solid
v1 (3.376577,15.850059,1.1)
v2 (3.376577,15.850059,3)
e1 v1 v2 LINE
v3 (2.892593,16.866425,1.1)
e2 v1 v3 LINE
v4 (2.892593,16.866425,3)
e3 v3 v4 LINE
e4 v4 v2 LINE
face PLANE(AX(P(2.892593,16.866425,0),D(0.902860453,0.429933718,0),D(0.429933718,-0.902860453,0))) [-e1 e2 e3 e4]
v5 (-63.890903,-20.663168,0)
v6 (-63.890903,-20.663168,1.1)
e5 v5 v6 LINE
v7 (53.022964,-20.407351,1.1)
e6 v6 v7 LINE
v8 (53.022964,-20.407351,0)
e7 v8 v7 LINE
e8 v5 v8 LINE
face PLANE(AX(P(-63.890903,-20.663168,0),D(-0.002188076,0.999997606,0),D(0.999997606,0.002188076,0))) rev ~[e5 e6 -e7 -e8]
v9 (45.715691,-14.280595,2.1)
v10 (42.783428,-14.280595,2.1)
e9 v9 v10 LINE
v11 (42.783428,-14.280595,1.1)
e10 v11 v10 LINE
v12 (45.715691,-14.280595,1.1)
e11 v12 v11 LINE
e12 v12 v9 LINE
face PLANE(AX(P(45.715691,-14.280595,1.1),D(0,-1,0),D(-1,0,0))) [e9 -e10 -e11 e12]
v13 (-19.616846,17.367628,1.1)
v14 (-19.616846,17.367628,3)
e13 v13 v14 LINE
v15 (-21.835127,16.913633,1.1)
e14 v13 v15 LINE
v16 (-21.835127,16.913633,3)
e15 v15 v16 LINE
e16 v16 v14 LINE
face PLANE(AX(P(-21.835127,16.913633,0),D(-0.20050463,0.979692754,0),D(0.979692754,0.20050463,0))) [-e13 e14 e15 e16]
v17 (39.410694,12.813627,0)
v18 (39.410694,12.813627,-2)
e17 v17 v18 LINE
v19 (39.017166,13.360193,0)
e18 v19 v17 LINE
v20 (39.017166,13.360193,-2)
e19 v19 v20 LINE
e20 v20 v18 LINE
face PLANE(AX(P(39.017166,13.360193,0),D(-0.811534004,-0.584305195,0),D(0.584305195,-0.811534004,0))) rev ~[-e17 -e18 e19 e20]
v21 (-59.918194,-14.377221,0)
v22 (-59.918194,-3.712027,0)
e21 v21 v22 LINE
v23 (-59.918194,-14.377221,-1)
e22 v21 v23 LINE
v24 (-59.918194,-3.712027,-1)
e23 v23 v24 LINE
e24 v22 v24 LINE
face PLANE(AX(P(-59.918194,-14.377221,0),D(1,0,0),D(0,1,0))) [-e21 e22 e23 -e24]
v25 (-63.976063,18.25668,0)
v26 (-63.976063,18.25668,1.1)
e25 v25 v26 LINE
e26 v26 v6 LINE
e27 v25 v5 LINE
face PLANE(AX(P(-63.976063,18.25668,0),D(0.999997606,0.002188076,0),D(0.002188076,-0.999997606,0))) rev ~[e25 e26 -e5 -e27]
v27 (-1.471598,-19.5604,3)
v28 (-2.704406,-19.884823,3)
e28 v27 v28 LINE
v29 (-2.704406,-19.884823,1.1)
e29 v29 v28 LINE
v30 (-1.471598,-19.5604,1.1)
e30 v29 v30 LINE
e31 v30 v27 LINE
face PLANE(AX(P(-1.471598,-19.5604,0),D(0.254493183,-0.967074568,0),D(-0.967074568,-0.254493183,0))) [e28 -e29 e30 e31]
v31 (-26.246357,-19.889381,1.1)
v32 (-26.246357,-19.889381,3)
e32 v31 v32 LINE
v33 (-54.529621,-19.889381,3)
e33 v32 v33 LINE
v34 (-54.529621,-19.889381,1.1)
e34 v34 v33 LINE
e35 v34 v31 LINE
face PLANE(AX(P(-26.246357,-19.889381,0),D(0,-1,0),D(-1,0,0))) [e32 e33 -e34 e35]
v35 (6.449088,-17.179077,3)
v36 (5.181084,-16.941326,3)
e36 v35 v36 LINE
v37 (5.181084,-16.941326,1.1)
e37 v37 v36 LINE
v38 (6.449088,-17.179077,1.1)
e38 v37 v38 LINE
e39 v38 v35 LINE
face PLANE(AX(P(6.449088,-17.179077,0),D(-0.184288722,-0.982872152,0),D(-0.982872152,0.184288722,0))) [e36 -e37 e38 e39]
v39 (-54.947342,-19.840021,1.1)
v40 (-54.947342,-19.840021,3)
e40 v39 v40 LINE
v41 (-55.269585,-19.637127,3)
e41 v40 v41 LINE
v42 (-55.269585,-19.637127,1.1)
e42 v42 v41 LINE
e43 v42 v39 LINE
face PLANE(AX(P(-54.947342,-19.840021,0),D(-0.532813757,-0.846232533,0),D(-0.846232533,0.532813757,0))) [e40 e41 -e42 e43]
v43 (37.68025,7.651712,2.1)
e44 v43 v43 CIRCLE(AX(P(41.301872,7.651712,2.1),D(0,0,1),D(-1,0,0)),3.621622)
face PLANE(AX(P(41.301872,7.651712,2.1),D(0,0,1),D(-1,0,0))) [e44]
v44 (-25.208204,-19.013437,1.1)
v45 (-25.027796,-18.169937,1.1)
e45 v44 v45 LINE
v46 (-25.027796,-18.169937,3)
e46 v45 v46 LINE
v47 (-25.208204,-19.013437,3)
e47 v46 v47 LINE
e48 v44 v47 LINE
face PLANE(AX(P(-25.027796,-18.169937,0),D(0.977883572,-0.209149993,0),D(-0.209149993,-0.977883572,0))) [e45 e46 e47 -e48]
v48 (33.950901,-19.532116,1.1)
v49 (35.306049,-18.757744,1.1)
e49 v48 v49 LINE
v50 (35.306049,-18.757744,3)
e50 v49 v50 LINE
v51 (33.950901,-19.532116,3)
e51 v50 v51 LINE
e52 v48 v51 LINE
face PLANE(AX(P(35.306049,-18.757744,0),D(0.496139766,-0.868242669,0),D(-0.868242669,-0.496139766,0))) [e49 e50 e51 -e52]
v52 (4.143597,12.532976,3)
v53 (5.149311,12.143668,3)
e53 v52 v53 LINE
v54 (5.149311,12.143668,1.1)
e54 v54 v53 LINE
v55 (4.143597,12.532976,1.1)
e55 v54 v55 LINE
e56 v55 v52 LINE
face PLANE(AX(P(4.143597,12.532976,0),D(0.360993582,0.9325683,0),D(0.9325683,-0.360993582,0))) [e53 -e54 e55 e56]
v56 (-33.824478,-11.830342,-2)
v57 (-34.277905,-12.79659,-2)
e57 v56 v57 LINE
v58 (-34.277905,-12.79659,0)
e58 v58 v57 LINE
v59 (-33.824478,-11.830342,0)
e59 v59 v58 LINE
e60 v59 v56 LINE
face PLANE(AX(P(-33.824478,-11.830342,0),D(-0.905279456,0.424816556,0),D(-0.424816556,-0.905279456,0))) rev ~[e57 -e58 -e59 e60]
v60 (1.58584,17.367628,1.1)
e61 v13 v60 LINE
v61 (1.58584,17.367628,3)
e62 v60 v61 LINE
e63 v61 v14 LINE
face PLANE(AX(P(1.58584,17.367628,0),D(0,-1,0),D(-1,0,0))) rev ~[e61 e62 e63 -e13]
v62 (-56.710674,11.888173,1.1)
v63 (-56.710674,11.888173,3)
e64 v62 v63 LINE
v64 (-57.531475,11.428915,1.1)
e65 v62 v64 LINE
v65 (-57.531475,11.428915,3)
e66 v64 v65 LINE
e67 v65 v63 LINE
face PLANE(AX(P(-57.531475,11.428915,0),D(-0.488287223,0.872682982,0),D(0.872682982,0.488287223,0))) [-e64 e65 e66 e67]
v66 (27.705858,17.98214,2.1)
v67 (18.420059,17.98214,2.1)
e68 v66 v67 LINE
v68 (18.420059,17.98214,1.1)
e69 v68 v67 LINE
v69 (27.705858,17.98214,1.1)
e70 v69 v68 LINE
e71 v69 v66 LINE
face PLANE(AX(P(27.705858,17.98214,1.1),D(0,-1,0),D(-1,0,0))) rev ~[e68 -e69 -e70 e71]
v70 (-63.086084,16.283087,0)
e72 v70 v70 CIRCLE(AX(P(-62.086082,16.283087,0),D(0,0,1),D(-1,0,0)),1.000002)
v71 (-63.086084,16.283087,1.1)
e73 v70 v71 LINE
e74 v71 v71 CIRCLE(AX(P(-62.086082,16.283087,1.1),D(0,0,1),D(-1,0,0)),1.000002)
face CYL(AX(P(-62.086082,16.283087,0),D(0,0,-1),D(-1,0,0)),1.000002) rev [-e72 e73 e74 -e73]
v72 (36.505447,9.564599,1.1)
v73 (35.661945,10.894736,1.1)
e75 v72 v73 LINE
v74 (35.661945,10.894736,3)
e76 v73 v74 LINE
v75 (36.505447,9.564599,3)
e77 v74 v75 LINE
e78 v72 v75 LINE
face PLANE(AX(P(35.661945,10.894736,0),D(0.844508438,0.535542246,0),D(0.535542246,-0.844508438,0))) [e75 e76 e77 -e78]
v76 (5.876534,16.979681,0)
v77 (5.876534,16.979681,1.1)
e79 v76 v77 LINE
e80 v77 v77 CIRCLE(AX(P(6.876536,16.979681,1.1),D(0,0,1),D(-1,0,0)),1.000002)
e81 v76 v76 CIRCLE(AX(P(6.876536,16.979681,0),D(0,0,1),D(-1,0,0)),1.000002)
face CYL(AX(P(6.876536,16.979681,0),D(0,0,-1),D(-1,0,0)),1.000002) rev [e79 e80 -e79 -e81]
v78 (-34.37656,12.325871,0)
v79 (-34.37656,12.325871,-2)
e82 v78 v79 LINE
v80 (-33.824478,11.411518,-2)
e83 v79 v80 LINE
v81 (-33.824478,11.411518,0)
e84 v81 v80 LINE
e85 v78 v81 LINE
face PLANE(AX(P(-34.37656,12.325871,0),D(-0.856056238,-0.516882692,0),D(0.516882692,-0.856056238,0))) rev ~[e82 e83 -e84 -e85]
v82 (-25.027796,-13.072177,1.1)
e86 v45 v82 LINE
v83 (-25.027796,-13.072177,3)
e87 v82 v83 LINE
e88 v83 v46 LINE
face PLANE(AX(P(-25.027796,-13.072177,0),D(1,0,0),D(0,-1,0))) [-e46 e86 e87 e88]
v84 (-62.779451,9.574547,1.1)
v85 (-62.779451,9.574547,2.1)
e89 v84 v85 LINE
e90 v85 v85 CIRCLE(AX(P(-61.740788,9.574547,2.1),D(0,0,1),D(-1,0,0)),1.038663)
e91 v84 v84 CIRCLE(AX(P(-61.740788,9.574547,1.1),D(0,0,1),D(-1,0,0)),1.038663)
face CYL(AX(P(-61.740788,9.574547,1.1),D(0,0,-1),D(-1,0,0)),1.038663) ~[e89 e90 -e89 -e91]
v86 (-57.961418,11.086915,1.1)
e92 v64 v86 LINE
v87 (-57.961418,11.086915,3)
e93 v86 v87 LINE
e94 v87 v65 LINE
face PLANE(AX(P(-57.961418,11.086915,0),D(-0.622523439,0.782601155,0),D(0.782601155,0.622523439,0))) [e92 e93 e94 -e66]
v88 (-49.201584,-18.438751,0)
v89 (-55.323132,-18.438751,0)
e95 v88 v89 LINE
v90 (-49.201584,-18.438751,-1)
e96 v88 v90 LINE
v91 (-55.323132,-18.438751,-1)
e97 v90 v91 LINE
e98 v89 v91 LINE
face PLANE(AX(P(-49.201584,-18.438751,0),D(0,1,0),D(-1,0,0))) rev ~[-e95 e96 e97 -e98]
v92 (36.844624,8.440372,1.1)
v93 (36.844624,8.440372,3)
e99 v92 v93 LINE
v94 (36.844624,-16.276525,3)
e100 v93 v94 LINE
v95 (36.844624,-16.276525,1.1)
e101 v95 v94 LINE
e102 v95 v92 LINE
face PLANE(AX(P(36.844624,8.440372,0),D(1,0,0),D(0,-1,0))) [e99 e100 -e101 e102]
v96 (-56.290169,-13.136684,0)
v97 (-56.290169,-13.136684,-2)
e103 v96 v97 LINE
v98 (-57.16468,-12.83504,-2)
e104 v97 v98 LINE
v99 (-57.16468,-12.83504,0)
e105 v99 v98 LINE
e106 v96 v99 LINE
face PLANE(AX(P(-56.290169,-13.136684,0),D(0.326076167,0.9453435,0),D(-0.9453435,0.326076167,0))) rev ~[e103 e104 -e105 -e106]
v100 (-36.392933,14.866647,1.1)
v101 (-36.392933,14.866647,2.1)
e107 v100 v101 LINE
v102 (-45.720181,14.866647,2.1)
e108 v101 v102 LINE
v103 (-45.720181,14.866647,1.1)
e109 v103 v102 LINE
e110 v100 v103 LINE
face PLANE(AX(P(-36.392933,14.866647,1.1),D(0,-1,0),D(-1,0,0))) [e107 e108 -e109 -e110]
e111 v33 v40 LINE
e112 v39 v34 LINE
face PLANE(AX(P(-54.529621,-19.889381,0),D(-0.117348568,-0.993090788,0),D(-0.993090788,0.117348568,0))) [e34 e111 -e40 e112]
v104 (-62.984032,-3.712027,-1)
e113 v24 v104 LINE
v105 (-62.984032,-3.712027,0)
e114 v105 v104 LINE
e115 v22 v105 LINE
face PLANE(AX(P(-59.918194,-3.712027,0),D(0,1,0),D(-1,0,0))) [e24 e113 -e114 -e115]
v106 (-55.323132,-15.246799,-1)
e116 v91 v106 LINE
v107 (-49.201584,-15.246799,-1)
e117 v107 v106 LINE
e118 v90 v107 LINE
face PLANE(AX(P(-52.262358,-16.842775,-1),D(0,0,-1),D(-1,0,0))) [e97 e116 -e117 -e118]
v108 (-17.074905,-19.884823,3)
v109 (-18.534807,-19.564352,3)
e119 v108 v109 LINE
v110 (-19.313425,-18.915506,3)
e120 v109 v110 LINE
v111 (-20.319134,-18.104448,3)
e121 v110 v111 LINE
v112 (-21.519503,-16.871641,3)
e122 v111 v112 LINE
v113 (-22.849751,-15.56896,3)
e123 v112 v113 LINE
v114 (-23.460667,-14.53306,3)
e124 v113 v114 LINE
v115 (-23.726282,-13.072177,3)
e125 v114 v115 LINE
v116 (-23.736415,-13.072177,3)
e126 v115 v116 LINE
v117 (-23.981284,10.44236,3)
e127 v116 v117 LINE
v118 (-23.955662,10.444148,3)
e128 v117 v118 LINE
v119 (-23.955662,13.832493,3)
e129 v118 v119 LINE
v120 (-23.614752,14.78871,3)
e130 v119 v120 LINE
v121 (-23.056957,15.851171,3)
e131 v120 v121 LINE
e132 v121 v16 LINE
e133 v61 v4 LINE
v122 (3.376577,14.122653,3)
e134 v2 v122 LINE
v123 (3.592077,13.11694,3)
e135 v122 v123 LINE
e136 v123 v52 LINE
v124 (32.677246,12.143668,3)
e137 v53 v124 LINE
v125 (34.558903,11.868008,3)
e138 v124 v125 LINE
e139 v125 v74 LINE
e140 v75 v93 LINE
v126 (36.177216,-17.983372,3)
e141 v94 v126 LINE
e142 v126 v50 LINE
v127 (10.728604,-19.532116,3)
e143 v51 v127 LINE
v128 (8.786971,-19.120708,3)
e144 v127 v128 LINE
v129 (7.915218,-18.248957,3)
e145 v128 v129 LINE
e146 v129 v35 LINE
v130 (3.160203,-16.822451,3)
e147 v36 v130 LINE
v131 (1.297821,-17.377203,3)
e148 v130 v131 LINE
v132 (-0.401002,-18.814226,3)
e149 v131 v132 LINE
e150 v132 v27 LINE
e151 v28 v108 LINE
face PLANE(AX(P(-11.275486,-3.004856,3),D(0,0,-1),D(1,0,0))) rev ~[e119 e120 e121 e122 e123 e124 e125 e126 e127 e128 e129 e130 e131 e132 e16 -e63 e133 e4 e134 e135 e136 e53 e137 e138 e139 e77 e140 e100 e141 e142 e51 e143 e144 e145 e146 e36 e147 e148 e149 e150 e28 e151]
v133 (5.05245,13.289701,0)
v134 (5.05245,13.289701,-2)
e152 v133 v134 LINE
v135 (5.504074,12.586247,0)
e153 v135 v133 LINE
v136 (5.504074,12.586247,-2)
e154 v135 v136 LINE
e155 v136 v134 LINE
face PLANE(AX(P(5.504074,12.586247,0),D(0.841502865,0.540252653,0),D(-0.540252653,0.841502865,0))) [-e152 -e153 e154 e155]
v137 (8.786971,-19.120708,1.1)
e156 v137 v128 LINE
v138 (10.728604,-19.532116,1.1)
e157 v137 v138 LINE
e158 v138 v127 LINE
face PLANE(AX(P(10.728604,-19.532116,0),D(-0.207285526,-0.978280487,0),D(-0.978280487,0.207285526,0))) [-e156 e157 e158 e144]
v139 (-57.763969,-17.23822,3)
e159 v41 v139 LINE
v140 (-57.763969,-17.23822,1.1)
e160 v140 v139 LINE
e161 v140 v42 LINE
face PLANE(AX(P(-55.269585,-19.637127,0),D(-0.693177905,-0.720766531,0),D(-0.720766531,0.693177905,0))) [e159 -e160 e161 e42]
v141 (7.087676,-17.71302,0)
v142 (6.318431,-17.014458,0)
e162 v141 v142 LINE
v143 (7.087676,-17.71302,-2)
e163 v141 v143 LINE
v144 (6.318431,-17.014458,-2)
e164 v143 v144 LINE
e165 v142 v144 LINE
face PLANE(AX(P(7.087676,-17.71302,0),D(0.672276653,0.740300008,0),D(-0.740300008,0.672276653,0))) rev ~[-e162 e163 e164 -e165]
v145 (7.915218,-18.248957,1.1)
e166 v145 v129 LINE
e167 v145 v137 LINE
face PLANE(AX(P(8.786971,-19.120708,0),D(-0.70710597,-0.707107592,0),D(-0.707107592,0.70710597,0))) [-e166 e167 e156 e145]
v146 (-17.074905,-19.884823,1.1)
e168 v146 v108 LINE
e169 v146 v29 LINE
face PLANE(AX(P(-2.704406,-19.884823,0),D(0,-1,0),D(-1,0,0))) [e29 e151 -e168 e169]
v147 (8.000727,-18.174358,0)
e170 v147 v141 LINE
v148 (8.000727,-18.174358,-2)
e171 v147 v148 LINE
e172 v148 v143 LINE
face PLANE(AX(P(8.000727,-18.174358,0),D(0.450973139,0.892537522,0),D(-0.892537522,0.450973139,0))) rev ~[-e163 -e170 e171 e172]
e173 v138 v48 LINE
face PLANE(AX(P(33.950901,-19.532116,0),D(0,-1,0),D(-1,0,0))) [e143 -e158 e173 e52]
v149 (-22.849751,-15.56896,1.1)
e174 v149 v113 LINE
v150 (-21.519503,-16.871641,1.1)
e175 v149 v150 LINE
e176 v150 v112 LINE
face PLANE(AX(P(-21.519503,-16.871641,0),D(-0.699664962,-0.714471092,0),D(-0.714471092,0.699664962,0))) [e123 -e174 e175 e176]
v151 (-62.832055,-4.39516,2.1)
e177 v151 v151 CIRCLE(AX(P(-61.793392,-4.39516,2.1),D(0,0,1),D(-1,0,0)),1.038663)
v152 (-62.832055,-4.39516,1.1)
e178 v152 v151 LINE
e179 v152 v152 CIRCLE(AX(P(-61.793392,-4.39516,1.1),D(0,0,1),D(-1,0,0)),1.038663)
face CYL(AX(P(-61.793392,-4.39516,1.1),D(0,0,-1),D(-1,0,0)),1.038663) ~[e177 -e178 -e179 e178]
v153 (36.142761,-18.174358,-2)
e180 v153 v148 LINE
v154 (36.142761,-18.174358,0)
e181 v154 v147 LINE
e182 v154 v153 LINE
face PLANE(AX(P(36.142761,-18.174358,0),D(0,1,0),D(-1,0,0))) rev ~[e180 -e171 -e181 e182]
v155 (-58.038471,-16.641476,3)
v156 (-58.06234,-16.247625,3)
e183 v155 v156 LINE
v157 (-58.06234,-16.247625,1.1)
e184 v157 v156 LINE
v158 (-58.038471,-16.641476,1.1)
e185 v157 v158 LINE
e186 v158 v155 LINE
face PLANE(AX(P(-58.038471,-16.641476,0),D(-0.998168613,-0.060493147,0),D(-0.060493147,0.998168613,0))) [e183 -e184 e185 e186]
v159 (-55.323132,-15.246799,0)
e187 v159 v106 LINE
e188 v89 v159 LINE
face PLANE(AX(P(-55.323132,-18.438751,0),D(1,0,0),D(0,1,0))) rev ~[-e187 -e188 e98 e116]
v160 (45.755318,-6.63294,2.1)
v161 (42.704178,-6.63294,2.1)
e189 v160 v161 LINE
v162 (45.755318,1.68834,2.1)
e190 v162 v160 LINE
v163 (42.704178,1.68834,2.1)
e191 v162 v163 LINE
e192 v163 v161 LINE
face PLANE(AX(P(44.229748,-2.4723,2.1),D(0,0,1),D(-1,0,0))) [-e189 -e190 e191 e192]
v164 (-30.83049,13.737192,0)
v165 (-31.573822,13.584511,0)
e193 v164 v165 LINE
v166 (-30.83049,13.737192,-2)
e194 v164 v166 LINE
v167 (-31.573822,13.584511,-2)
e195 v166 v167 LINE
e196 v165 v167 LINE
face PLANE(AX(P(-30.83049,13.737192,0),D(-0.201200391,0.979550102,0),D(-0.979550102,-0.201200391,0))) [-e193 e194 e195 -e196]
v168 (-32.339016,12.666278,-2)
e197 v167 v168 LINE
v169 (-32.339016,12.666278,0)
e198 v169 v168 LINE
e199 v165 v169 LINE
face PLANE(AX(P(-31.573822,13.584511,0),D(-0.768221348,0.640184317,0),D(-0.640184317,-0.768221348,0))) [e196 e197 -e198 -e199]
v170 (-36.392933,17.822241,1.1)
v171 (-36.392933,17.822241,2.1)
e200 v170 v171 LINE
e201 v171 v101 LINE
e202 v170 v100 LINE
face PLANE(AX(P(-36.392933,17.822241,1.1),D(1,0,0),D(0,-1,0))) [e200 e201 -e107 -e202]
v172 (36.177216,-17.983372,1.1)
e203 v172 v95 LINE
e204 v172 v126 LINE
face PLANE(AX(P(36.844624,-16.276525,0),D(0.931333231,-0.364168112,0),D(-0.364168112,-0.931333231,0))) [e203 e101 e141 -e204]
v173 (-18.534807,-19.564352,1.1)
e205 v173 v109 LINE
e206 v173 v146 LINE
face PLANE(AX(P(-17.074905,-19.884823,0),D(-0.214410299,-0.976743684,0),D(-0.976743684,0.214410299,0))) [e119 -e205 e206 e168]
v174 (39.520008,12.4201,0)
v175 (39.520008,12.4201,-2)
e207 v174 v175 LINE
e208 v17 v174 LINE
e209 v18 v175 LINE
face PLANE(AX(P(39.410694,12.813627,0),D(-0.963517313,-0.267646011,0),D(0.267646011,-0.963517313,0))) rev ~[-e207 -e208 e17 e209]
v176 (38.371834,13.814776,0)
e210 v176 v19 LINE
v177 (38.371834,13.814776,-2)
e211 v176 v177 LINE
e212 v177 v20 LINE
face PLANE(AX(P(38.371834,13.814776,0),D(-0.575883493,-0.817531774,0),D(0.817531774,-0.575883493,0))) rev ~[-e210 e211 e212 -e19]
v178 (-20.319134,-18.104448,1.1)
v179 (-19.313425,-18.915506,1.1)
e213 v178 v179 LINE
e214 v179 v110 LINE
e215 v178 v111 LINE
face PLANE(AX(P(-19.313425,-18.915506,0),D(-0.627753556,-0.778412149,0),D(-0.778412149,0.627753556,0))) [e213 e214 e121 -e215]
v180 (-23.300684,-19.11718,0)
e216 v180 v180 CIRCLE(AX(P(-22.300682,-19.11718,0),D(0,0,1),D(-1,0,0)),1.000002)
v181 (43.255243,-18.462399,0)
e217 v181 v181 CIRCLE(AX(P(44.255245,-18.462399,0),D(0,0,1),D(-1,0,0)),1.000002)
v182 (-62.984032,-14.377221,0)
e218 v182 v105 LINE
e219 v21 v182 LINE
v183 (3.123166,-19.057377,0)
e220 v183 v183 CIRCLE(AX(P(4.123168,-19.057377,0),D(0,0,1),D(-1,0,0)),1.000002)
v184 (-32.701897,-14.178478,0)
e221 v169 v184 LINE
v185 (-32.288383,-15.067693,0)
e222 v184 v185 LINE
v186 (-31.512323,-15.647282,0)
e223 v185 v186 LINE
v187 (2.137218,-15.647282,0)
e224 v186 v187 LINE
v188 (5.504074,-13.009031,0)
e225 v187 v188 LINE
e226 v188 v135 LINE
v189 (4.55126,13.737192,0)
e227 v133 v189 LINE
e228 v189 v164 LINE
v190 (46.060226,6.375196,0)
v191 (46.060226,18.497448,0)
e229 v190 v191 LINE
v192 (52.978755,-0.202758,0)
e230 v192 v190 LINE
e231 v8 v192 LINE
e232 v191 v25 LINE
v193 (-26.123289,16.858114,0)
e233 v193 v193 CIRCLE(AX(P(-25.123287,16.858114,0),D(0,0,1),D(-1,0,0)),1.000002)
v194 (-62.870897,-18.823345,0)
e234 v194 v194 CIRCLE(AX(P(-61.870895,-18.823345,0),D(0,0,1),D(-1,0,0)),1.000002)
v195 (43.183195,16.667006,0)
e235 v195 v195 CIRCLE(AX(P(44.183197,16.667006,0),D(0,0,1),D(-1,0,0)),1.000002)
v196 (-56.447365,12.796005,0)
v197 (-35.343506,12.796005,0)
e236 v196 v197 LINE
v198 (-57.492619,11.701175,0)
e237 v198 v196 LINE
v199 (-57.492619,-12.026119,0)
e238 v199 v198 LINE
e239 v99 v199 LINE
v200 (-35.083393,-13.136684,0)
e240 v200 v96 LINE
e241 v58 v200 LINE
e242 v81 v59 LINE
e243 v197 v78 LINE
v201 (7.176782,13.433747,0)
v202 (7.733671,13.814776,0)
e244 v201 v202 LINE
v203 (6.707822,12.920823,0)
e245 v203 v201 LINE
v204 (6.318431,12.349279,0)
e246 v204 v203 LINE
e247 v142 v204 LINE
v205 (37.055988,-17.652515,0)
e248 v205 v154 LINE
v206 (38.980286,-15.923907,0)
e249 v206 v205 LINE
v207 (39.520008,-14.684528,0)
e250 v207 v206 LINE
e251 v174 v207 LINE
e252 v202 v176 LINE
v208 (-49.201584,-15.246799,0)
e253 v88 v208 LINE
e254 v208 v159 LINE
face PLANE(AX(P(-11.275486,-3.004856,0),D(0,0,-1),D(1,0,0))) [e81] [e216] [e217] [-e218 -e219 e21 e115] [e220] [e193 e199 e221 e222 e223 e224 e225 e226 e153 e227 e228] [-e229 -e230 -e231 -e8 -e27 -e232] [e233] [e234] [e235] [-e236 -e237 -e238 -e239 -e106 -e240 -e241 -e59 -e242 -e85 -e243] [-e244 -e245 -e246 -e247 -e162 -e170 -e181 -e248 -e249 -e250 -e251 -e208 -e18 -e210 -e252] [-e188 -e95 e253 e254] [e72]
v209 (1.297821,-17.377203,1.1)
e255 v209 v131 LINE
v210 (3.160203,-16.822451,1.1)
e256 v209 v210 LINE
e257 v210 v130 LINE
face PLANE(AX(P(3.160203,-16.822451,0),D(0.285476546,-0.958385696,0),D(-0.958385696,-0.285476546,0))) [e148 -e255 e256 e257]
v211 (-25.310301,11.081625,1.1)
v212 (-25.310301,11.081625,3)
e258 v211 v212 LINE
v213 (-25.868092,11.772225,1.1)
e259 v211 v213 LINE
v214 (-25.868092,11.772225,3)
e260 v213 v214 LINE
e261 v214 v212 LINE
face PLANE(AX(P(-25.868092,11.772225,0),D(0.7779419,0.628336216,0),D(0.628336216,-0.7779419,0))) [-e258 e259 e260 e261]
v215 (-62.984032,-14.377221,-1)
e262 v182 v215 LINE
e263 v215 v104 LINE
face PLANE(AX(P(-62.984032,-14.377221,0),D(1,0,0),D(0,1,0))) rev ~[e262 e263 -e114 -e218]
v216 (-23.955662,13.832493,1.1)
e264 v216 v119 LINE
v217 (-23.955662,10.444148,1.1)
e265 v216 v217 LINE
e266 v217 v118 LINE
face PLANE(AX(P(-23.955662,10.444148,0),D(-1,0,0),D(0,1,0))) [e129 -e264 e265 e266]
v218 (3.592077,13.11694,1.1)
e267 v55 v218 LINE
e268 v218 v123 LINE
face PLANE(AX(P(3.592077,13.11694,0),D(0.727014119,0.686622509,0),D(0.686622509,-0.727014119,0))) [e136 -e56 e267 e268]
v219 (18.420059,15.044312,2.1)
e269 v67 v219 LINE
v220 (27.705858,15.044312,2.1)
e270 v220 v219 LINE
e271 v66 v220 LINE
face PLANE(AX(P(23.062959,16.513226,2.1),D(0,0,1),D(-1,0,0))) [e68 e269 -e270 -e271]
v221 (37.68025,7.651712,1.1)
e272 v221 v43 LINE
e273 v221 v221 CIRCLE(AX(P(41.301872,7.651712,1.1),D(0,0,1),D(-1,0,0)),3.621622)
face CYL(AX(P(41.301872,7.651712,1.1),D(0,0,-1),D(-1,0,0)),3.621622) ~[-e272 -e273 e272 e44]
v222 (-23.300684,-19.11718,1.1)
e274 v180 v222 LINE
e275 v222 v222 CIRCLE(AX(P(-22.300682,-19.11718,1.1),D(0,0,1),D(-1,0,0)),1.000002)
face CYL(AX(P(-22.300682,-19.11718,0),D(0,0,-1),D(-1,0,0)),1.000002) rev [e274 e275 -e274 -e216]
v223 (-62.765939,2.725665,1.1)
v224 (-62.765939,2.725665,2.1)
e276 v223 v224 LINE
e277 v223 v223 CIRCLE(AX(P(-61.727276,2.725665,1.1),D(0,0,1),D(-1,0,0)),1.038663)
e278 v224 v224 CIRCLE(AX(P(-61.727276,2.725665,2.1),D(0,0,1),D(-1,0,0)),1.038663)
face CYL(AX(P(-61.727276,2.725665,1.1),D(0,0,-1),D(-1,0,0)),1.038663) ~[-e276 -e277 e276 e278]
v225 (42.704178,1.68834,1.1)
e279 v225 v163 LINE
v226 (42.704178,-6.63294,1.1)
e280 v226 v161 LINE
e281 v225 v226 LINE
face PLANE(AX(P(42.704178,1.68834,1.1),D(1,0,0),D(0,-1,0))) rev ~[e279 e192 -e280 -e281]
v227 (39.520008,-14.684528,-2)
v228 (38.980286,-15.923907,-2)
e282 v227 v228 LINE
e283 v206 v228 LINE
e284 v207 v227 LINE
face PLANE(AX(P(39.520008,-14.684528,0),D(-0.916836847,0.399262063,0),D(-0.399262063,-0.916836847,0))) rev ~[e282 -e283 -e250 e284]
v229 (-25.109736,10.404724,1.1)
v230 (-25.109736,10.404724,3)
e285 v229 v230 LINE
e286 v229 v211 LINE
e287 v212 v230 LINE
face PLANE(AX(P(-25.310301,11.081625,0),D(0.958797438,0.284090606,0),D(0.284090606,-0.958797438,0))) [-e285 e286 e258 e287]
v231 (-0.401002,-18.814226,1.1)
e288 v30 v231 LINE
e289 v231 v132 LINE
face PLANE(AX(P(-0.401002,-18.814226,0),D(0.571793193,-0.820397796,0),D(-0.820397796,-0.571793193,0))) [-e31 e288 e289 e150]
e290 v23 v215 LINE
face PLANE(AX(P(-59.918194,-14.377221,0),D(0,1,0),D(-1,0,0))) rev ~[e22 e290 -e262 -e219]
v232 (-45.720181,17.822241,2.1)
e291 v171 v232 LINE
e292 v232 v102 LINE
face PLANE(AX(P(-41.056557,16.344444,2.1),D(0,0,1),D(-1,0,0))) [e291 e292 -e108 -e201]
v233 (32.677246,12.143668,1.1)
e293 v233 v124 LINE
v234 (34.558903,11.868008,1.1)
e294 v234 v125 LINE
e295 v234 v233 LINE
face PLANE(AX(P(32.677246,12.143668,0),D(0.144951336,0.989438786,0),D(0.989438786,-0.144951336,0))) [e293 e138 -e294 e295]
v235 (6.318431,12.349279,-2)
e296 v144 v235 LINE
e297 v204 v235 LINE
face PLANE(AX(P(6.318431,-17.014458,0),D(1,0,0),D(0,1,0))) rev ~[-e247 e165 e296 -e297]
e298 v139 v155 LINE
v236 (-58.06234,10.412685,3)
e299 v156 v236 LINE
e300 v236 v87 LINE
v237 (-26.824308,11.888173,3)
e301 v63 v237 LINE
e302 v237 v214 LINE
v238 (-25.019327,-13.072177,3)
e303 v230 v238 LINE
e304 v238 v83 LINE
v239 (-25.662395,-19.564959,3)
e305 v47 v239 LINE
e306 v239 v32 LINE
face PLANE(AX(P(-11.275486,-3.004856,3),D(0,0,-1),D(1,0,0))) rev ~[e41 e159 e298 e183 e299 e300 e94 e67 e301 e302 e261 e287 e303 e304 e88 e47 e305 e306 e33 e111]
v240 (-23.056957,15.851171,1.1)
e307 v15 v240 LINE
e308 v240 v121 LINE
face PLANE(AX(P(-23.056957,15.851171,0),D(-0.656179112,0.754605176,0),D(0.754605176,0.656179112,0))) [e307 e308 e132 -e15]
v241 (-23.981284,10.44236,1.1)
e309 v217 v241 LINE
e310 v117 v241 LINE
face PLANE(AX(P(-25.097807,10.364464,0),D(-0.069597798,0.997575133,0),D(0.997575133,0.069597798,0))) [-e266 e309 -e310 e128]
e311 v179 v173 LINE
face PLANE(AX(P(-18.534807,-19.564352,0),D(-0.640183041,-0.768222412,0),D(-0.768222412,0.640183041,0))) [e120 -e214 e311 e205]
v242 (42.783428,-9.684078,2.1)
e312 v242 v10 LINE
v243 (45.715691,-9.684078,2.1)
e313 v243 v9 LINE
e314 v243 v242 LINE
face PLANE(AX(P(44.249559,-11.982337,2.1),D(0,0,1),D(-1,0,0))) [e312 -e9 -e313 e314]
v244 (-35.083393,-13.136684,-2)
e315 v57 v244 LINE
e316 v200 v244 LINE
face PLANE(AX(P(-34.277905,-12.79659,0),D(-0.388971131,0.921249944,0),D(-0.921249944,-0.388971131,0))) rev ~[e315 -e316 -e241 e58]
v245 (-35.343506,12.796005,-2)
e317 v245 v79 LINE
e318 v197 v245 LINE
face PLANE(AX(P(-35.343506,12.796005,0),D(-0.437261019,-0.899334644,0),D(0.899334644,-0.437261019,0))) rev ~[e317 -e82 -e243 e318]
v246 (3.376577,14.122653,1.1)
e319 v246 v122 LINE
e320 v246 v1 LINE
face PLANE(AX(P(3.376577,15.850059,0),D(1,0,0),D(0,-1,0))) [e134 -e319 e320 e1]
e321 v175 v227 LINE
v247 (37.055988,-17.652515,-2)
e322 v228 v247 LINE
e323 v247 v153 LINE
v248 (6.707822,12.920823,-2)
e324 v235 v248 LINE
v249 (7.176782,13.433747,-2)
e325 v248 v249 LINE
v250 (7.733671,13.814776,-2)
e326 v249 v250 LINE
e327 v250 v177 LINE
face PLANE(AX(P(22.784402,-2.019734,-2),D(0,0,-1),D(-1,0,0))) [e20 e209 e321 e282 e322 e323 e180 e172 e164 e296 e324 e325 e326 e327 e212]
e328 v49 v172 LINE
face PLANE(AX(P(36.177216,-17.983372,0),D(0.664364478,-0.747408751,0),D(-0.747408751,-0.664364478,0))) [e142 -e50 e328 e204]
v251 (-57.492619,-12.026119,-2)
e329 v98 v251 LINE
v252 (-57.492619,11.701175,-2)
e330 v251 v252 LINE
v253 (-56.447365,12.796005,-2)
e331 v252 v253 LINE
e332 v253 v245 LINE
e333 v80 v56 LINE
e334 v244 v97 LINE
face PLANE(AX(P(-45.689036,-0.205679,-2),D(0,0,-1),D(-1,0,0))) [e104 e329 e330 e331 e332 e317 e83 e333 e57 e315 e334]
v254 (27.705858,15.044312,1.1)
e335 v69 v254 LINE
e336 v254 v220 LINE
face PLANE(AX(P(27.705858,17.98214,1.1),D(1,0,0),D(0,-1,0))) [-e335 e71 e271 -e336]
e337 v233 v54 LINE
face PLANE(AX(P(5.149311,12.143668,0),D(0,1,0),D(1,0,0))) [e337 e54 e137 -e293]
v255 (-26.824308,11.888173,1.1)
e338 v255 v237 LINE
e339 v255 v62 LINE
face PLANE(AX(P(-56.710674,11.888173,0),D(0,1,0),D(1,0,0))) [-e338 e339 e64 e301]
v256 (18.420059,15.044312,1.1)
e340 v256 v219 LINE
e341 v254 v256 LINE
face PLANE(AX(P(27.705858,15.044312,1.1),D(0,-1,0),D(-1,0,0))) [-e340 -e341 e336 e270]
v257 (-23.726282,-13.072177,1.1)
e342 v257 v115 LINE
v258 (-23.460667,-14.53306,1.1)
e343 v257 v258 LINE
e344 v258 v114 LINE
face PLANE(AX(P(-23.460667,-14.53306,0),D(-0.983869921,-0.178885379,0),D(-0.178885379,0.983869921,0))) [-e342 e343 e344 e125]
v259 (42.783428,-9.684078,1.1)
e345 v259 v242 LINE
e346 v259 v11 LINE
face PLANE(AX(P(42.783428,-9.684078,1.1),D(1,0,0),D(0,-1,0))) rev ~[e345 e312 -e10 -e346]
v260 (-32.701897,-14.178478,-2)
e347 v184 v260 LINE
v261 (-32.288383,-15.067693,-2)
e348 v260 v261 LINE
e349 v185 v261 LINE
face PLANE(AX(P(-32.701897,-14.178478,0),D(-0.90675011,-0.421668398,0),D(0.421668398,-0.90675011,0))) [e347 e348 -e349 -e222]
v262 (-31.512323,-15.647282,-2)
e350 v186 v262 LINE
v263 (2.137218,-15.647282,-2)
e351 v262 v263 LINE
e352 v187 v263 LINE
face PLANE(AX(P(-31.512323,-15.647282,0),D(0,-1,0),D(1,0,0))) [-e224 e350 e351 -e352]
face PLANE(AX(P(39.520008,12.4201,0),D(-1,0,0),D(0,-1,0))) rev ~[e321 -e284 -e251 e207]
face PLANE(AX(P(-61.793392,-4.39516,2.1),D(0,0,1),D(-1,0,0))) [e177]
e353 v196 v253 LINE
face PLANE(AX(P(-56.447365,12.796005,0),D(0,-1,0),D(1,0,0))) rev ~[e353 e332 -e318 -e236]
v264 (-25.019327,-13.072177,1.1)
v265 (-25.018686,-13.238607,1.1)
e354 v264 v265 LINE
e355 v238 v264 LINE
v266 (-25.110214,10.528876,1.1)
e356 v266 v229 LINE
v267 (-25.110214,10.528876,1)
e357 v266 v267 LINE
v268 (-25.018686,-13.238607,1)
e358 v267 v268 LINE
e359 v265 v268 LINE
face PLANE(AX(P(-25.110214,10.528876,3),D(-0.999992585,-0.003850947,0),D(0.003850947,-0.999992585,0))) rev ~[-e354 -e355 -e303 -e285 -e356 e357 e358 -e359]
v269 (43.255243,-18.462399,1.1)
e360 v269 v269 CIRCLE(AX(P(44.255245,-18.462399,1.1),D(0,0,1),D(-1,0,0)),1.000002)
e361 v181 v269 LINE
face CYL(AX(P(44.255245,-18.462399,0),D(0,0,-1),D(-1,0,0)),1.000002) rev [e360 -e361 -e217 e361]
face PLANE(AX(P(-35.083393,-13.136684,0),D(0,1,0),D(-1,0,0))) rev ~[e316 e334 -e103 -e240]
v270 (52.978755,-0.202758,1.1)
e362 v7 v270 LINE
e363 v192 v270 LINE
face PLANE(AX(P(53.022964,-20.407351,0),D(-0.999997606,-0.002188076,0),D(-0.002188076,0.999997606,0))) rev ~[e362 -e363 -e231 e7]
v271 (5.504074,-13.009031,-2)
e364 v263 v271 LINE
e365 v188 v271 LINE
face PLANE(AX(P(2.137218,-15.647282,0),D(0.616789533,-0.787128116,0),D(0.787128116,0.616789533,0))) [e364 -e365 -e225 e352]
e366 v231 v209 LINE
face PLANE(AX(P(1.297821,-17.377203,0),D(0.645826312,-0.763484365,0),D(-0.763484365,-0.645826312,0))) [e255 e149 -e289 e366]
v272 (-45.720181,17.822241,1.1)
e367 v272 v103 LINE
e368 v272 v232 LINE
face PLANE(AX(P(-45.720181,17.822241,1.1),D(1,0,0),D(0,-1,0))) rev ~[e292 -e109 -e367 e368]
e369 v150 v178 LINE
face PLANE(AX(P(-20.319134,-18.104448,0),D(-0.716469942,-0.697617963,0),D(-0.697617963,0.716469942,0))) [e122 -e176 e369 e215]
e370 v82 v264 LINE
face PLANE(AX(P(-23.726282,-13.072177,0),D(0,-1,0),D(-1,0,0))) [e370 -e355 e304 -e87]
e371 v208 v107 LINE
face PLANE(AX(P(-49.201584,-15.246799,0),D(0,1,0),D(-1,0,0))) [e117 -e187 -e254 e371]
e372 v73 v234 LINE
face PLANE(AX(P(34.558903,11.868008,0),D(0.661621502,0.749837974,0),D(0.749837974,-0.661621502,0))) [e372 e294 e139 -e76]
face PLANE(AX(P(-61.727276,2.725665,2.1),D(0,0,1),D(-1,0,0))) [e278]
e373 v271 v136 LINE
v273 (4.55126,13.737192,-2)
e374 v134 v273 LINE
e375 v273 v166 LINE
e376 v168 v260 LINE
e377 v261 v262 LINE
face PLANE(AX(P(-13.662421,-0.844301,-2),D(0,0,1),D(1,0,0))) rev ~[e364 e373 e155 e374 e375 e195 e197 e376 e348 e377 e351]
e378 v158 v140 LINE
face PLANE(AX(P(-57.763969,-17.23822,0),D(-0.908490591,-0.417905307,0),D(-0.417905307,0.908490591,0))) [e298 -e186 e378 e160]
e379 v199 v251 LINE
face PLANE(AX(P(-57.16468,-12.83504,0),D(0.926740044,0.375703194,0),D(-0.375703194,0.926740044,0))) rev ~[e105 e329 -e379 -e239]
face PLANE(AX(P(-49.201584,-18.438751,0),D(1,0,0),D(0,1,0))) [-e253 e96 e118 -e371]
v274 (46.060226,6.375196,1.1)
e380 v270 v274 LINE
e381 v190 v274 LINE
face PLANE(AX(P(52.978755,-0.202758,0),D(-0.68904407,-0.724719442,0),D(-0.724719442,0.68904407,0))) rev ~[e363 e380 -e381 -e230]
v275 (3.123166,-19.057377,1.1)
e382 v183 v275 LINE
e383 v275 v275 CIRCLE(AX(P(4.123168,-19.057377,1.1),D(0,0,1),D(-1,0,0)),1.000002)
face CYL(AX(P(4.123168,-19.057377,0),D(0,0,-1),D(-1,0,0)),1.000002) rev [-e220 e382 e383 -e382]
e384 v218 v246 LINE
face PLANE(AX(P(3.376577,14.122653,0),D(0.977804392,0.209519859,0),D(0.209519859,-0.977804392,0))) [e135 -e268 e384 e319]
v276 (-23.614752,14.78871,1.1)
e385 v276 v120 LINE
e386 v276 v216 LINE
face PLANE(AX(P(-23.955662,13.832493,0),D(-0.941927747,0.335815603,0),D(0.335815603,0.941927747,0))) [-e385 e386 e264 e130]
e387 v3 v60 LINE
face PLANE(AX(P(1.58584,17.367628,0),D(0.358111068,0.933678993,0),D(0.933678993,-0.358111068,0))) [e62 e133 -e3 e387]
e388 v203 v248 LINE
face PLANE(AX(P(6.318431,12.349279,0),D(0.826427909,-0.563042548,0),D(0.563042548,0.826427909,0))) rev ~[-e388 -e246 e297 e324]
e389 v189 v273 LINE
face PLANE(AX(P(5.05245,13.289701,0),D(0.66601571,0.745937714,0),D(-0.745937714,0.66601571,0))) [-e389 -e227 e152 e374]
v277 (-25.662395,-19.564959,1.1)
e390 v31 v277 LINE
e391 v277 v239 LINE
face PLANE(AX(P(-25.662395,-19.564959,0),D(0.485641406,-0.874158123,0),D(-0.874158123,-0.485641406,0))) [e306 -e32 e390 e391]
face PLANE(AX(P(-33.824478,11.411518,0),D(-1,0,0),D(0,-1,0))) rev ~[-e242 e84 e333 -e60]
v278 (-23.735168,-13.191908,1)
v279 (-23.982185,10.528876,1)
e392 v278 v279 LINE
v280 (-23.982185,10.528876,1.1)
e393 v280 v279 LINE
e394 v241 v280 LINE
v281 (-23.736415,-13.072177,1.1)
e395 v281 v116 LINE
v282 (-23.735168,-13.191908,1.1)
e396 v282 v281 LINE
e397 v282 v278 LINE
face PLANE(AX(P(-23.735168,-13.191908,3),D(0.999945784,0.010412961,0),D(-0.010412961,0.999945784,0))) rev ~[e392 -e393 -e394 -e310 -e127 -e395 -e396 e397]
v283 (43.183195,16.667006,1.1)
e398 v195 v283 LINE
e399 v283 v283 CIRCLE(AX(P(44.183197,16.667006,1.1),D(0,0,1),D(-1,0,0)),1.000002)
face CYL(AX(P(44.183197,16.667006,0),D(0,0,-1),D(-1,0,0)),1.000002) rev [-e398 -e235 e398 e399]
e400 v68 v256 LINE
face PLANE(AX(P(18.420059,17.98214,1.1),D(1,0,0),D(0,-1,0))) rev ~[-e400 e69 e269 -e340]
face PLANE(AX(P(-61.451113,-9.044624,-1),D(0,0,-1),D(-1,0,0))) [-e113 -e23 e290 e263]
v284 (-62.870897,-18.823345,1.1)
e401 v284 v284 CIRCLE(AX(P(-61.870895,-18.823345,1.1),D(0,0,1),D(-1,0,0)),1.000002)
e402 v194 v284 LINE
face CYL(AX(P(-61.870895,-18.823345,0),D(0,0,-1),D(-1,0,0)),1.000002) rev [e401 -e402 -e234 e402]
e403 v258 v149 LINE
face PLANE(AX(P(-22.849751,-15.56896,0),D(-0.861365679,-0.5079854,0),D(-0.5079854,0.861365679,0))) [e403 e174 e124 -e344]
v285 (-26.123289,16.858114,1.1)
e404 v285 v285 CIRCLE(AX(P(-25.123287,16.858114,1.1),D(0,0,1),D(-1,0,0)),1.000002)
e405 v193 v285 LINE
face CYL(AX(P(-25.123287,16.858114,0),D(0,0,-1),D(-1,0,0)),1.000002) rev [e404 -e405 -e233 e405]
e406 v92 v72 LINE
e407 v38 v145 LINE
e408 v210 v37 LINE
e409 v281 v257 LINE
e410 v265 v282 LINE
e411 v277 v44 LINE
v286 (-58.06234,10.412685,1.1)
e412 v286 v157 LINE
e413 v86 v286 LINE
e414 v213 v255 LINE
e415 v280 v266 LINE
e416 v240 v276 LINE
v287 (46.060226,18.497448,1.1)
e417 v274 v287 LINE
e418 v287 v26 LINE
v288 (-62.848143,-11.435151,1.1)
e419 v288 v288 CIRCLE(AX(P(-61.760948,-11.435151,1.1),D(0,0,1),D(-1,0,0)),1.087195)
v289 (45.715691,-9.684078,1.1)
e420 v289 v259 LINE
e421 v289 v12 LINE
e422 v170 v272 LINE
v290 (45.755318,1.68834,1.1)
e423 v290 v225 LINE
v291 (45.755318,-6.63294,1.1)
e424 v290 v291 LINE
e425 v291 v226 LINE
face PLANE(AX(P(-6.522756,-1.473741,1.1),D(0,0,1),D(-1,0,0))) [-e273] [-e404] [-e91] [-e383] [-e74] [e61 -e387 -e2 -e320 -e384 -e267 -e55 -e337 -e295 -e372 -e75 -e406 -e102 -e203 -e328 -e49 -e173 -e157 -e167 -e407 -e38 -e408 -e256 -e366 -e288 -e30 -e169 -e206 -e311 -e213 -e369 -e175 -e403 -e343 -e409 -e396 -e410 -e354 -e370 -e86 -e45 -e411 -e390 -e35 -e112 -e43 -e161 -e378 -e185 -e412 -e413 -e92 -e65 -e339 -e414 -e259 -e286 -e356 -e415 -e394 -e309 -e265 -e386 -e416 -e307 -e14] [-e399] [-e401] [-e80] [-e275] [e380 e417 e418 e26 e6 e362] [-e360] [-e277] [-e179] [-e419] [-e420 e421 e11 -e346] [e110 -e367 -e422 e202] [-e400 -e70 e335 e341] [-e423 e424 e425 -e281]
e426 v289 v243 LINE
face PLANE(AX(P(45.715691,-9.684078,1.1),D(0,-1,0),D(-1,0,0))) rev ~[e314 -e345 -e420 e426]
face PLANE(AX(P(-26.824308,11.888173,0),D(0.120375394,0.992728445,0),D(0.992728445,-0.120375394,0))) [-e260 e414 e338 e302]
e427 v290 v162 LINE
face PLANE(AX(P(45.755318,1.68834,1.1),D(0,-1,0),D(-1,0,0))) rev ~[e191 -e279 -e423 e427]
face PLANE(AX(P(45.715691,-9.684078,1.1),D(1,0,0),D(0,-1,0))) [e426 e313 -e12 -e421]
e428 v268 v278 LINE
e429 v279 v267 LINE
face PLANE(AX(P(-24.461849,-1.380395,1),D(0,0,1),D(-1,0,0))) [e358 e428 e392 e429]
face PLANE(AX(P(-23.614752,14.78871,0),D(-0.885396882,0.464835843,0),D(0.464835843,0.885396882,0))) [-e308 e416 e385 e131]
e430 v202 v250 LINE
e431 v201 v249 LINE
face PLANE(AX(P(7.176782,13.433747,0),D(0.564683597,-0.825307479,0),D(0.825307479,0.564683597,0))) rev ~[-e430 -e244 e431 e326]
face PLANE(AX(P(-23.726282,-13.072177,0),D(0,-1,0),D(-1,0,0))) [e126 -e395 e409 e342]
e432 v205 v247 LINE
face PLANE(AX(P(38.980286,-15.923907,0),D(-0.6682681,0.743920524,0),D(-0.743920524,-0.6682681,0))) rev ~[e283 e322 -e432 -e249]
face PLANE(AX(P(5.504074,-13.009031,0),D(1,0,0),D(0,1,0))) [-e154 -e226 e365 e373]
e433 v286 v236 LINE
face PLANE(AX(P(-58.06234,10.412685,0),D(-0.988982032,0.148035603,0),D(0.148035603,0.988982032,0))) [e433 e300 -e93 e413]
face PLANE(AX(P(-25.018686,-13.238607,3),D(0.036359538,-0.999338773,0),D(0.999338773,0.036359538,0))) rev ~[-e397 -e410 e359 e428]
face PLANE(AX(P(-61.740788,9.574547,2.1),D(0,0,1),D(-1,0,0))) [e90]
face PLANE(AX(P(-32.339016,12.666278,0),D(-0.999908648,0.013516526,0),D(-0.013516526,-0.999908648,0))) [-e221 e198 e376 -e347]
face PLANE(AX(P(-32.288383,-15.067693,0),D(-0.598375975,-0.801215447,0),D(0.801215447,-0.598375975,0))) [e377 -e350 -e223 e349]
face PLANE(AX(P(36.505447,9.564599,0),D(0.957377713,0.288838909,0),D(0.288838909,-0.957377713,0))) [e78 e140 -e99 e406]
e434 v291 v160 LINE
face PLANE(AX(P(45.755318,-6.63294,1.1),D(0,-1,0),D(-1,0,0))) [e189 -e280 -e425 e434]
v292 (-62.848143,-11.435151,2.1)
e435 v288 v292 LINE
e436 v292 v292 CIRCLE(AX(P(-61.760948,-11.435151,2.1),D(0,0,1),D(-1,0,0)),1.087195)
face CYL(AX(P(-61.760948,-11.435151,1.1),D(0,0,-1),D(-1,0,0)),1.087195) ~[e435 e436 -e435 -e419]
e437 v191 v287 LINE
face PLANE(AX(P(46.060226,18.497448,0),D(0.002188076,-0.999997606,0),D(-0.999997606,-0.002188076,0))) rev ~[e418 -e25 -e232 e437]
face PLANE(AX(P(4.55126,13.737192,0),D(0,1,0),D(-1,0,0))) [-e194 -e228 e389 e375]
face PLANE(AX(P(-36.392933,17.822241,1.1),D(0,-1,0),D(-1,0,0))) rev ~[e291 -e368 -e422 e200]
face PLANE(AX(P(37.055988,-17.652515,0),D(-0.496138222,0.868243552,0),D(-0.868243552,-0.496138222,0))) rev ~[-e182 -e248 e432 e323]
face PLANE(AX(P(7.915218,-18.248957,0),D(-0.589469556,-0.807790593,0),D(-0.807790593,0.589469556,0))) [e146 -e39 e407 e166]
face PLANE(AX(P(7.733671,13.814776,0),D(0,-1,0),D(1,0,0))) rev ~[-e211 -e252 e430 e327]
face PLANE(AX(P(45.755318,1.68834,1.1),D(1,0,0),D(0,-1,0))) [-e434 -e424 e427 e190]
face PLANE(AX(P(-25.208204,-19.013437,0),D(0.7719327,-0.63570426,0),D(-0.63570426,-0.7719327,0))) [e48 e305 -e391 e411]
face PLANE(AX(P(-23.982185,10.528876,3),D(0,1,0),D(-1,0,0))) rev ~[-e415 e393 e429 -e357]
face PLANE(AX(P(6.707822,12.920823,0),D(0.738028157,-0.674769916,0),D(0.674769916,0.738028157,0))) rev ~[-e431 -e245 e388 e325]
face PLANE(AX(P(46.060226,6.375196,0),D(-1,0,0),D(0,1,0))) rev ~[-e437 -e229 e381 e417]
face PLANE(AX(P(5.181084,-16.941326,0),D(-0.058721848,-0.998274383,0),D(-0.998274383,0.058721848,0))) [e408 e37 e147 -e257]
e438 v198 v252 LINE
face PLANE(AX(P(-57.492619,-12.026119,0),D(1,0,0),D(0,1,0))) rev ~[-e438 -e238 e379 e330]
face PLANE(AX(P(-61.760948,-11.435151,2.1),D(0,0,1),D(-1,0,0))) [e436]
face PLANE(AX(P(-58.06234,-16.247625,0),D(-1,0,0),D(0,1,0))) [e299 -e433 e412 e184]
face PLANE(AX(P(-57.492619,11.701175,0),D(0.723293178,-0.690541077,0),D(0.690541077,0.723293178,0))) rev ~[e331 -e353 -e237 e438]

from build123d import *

# Parameters (mm, degrees)
SKETCH_R             = 1.000002
PAD_DEPTH            = 1.1
PAD001_DEPTH         = 3
SKETCH002_R          = 3.621622
SKETCH002_R_2        = 1.0871950633
SKETCH002_R_3        = 1.038663
SKETCH002_W          = 2.932263
SKETCH002_H          = 4.596517
SKETCH002_W_2        = 3.05114
SKETCH002_H_2        = 8.32128
SKETCH002_W_3        = 9.285799
SKETCH002_H_3        = 2.937828
SKETCH002_W_4        = 9.327248
SKETCH002_H_4        = 2.955594
PAD002_DEPTH         = 1
POCKET_DEPTH         = 2
PAD003_DEPTH         = 2
SKETCH005_W          = 3.065838
SKETCH005_H          = 10.665194
SKETCH005_W_2        = 6.121548
SKETCH005_H_2        = 3.191952
PAD004_DEPTH         = 1
BODY_PLACEMENT_ANGLE = 180


with BuildPart() as part:
    # Sketch → Pad (new body)
    with BuildSketch(Plane.XY):
        Polygon((-53.022964, 20.407351), (-52.9787547167, 0.2027583732), (-46.0602256559, -6.375196), (-46.0602256559, -18.4974481912), (63.976062776, -18.2566798895), (63.890903, 20.663168), align=None)
        with Locations((-44.255245, 18.462399)):
            Circle(SKETCH_R, mode=Mode.SUBTRACT)
        with Locations((61.870895, 18.823345)):
            Circle(SKETCH_R, mode=Mode.SUBTRACT)
        with Locations((62.086082, -16.283087)):
            Circle(SKETCH_R, mode=Mode.SUBTRACT)
        with Locations((25.123287, -16.858114)):
            Circle(SKETCH_R, mode=Mode.SUBTRACT)
        with Locations((-6.876536, -16.979681)):
            Circle(SKETCH_R, mode=Mode.SUBTRACT)
        with Locations((-44.183197, -16.667006)):
            Circle(SKETCH_R, mode=Mode.SUBTRACT)
        with Locations((-4.123168, 19.057377)):
            Circle(SKETCH_R, mode=Mode.SUBTRACT)
        with Locations((22.300682, 19.11718)):
            Circle(SKETCH_R, mode=Mode.SUBTRACT)
    extrude(amount=PAD_DEPTH)

    # Sketch001 → Pad001 (join)
    with BuildSketch(Plane.XY):
        Polygon((-36.844624, 16.276525), (-36.177216, 17.983372), (-35.306049, 18.757744), (-33.950901, 19.532116), (-10.728604, 19.532116), (-8.786971, 19.120708), (-7.915218, 18.248957), (-6.449088, 17.179077), (-5.181084, 16.941326), (-3.160203, 16.822451), (-1.297821, 17.377203), (0.401002, 18.814226), (1.471598, 19.5604), (2.704406, 19.884823), (17.074905, 19.884823), (18.534807, 19.564352), (19.313425, 18.915506), (20.319134, 18.104448), (21.519503, 16.871641), (22.849751, 15.56896), (23.460667, 14.53306), (23.726282, 13.072177), (25.027796, 13.072177), (25.027796, 18.169937), (25.208204, 19.013437), (25.662395, 19.564959), (26.246357, 19.889381), (54.529621, 19.889381), (54.947342, 19.840021), (55.269585, 19.637127), (57.763969, 17.23822), (58.038471, 16.641476), (58.06234, 16.247625), (58.06234, -10.412685), (57.961418, -11.086915), (57.531475, -11.428915), (56.710674, -11.888173), (26.824308, -11.888173), (25.868092, -11.772225), (25.310301, -11.081625), (25.097807, -10.364464), (23.955662, -10.444148), (23.955662, -13.832493), (23.614752, -14.78871), (23.056957, -15.851171), (21.835127, -16.913633), (19.616846, -17.367628), (16.833258, -17.367628), (4.714081, -17.367628), (-1.58584, -17.367628), (-2.892593, -16.866425), (-3.376577, -15.850059), (-3.376577, -14.122653), (-3.592077, -13.11694), (-4.143597, -12.532976), (-5.149311, -12.143668), (-32.677246, -12.143668), (-34.558903, -11.868008), (-35.661945, -10.894736), (-36.505447, -9.564599), (-36.844624, -8.440372), align=None)
    extrude(amount=PAD001_DEPTH)

    # Sketch002 (on Face5 of Pad001) → Pad002 (join)
    with BuildSketch(Plane.XY.offset(1.1)):
        with Locations((-41.301872, -7.651712)):
            Circle(SKETCH002_R)
        with Locations((61.760948, 11.435151)):
            Circle(SKETCH002_R_2)
        with Locations((61.793392, 4.39516)):
            Circle(SKETCH002_R_3)
        with Locations((61.727276, -2.725665)):
            Circle(SKETCH002_R_3)
        with Locations((61.740788, -9.574547)):
            Circle(SKETCH002_R_3)
        with Locations((-44.2495595, 11.9823365)):
            Rectangle(SKETCH002_W, SKETCH002_H)
        with Locations((-44.229748, 2.4723)):
            Rectangle(SKETCH002_W_2, SKETCH002_H_2)
        with Locations((-23.0629585, -16.513226)):
            Rectangle(SKETCH002_W_3, SKETCH002_H_3)
        with Locations((41.056557, -16.344444)):
            Rectangle(SKETCH002_W_4, SKETCH002_H_4)
    extrude(amount=PAD002_DEPTH)

    # Sketch003 (on Face107 of Pad002) → Pocket (cut)
    with BuildSketch(Plane.XY.offset(3)):
        Polygon((23.735168, 13.191908), (23.982185, -10.528876), (25.110214, -10.528876), (25.018686, 13.238607), align=None)
    extrude(amount=-POCKET_DEPTH, mode=Mode.SUBTRACT)

    # Sketch004 (on Face4 of Pocket) → Pad003 (join)
    with BuildSketch(Plane(origin=(0, 0, 0), x_dir=(1, 0, 0), z_dir=(0, 0, -1))):
        Polygon((-38.371834, 13.814776), (-39.017166, 13.360193), (-39.410694, 12.813627), (-39.520008, 12.4201), (-39.520008, -14.684528), (-38.980286, -15.923907), (-37.055988, -17.652515), (-36.142761, -18.174358), (-8.000727, -18.174358), (-7.087676, -17.71302), (-6.318431, -17.014458), (-6.318431, 12.349279), (-6.707822, 12.920823), (-7.176782, 13.433747), (-7.733671, 13.814776), align=None)
        Polygon((-5.504074, 12.586247), (-5.05245, 13.289701), (-4.55126, 13.737192), (30.83049, 13.737192), (31.573822, 13.584511), (32.339016, 12.666278), (32.701897, -14.178478), (32.288383, -15.067693), (31.512323, -15.647282), (-2.137218, -15.647282), (-5.504074, -13.009031), align=None)
        Polygon((33.824478, -11.830342), (34.277905, -12.79659), (35.083393, -13.136684), (56.290169, -13.136684), (57.16468, -12.83504), (57.492619, -12.026119), (57.492619, 11.701175), (56.447365, 12.796005), (35.343506, 12.796005), (34.37656, 12.325871), (33.824478, 11.411518), align=None)
    extrude(amount=PAD003_DEPTH)

    # Sketch005 (on Face4 of Pad003) → Pad004 (join)
    with BuildSketch(Plane(origin=(0, 0, 0), x_dir=(1, 0, 0), z_dir=(0, 0, -1))):
        with Locations((61.451113, -9.044624)):
            Rectangle(SKETCH005_W, SKETCH005_H)
        with Locations((52.262358, -16.842775)):
            Rectangle(SKETCH005_W_2, SKETCH005_H_2)
    extrude(amount=PAD004_DEPTH)


with BuildPart() as part_1:
    # Body placement: moved
    add(part.part.rotate(Axis((0, 0, 0), (0, 0, 1)), BODY_PLACEMENT_ANGLE))


solid = part_1.part
